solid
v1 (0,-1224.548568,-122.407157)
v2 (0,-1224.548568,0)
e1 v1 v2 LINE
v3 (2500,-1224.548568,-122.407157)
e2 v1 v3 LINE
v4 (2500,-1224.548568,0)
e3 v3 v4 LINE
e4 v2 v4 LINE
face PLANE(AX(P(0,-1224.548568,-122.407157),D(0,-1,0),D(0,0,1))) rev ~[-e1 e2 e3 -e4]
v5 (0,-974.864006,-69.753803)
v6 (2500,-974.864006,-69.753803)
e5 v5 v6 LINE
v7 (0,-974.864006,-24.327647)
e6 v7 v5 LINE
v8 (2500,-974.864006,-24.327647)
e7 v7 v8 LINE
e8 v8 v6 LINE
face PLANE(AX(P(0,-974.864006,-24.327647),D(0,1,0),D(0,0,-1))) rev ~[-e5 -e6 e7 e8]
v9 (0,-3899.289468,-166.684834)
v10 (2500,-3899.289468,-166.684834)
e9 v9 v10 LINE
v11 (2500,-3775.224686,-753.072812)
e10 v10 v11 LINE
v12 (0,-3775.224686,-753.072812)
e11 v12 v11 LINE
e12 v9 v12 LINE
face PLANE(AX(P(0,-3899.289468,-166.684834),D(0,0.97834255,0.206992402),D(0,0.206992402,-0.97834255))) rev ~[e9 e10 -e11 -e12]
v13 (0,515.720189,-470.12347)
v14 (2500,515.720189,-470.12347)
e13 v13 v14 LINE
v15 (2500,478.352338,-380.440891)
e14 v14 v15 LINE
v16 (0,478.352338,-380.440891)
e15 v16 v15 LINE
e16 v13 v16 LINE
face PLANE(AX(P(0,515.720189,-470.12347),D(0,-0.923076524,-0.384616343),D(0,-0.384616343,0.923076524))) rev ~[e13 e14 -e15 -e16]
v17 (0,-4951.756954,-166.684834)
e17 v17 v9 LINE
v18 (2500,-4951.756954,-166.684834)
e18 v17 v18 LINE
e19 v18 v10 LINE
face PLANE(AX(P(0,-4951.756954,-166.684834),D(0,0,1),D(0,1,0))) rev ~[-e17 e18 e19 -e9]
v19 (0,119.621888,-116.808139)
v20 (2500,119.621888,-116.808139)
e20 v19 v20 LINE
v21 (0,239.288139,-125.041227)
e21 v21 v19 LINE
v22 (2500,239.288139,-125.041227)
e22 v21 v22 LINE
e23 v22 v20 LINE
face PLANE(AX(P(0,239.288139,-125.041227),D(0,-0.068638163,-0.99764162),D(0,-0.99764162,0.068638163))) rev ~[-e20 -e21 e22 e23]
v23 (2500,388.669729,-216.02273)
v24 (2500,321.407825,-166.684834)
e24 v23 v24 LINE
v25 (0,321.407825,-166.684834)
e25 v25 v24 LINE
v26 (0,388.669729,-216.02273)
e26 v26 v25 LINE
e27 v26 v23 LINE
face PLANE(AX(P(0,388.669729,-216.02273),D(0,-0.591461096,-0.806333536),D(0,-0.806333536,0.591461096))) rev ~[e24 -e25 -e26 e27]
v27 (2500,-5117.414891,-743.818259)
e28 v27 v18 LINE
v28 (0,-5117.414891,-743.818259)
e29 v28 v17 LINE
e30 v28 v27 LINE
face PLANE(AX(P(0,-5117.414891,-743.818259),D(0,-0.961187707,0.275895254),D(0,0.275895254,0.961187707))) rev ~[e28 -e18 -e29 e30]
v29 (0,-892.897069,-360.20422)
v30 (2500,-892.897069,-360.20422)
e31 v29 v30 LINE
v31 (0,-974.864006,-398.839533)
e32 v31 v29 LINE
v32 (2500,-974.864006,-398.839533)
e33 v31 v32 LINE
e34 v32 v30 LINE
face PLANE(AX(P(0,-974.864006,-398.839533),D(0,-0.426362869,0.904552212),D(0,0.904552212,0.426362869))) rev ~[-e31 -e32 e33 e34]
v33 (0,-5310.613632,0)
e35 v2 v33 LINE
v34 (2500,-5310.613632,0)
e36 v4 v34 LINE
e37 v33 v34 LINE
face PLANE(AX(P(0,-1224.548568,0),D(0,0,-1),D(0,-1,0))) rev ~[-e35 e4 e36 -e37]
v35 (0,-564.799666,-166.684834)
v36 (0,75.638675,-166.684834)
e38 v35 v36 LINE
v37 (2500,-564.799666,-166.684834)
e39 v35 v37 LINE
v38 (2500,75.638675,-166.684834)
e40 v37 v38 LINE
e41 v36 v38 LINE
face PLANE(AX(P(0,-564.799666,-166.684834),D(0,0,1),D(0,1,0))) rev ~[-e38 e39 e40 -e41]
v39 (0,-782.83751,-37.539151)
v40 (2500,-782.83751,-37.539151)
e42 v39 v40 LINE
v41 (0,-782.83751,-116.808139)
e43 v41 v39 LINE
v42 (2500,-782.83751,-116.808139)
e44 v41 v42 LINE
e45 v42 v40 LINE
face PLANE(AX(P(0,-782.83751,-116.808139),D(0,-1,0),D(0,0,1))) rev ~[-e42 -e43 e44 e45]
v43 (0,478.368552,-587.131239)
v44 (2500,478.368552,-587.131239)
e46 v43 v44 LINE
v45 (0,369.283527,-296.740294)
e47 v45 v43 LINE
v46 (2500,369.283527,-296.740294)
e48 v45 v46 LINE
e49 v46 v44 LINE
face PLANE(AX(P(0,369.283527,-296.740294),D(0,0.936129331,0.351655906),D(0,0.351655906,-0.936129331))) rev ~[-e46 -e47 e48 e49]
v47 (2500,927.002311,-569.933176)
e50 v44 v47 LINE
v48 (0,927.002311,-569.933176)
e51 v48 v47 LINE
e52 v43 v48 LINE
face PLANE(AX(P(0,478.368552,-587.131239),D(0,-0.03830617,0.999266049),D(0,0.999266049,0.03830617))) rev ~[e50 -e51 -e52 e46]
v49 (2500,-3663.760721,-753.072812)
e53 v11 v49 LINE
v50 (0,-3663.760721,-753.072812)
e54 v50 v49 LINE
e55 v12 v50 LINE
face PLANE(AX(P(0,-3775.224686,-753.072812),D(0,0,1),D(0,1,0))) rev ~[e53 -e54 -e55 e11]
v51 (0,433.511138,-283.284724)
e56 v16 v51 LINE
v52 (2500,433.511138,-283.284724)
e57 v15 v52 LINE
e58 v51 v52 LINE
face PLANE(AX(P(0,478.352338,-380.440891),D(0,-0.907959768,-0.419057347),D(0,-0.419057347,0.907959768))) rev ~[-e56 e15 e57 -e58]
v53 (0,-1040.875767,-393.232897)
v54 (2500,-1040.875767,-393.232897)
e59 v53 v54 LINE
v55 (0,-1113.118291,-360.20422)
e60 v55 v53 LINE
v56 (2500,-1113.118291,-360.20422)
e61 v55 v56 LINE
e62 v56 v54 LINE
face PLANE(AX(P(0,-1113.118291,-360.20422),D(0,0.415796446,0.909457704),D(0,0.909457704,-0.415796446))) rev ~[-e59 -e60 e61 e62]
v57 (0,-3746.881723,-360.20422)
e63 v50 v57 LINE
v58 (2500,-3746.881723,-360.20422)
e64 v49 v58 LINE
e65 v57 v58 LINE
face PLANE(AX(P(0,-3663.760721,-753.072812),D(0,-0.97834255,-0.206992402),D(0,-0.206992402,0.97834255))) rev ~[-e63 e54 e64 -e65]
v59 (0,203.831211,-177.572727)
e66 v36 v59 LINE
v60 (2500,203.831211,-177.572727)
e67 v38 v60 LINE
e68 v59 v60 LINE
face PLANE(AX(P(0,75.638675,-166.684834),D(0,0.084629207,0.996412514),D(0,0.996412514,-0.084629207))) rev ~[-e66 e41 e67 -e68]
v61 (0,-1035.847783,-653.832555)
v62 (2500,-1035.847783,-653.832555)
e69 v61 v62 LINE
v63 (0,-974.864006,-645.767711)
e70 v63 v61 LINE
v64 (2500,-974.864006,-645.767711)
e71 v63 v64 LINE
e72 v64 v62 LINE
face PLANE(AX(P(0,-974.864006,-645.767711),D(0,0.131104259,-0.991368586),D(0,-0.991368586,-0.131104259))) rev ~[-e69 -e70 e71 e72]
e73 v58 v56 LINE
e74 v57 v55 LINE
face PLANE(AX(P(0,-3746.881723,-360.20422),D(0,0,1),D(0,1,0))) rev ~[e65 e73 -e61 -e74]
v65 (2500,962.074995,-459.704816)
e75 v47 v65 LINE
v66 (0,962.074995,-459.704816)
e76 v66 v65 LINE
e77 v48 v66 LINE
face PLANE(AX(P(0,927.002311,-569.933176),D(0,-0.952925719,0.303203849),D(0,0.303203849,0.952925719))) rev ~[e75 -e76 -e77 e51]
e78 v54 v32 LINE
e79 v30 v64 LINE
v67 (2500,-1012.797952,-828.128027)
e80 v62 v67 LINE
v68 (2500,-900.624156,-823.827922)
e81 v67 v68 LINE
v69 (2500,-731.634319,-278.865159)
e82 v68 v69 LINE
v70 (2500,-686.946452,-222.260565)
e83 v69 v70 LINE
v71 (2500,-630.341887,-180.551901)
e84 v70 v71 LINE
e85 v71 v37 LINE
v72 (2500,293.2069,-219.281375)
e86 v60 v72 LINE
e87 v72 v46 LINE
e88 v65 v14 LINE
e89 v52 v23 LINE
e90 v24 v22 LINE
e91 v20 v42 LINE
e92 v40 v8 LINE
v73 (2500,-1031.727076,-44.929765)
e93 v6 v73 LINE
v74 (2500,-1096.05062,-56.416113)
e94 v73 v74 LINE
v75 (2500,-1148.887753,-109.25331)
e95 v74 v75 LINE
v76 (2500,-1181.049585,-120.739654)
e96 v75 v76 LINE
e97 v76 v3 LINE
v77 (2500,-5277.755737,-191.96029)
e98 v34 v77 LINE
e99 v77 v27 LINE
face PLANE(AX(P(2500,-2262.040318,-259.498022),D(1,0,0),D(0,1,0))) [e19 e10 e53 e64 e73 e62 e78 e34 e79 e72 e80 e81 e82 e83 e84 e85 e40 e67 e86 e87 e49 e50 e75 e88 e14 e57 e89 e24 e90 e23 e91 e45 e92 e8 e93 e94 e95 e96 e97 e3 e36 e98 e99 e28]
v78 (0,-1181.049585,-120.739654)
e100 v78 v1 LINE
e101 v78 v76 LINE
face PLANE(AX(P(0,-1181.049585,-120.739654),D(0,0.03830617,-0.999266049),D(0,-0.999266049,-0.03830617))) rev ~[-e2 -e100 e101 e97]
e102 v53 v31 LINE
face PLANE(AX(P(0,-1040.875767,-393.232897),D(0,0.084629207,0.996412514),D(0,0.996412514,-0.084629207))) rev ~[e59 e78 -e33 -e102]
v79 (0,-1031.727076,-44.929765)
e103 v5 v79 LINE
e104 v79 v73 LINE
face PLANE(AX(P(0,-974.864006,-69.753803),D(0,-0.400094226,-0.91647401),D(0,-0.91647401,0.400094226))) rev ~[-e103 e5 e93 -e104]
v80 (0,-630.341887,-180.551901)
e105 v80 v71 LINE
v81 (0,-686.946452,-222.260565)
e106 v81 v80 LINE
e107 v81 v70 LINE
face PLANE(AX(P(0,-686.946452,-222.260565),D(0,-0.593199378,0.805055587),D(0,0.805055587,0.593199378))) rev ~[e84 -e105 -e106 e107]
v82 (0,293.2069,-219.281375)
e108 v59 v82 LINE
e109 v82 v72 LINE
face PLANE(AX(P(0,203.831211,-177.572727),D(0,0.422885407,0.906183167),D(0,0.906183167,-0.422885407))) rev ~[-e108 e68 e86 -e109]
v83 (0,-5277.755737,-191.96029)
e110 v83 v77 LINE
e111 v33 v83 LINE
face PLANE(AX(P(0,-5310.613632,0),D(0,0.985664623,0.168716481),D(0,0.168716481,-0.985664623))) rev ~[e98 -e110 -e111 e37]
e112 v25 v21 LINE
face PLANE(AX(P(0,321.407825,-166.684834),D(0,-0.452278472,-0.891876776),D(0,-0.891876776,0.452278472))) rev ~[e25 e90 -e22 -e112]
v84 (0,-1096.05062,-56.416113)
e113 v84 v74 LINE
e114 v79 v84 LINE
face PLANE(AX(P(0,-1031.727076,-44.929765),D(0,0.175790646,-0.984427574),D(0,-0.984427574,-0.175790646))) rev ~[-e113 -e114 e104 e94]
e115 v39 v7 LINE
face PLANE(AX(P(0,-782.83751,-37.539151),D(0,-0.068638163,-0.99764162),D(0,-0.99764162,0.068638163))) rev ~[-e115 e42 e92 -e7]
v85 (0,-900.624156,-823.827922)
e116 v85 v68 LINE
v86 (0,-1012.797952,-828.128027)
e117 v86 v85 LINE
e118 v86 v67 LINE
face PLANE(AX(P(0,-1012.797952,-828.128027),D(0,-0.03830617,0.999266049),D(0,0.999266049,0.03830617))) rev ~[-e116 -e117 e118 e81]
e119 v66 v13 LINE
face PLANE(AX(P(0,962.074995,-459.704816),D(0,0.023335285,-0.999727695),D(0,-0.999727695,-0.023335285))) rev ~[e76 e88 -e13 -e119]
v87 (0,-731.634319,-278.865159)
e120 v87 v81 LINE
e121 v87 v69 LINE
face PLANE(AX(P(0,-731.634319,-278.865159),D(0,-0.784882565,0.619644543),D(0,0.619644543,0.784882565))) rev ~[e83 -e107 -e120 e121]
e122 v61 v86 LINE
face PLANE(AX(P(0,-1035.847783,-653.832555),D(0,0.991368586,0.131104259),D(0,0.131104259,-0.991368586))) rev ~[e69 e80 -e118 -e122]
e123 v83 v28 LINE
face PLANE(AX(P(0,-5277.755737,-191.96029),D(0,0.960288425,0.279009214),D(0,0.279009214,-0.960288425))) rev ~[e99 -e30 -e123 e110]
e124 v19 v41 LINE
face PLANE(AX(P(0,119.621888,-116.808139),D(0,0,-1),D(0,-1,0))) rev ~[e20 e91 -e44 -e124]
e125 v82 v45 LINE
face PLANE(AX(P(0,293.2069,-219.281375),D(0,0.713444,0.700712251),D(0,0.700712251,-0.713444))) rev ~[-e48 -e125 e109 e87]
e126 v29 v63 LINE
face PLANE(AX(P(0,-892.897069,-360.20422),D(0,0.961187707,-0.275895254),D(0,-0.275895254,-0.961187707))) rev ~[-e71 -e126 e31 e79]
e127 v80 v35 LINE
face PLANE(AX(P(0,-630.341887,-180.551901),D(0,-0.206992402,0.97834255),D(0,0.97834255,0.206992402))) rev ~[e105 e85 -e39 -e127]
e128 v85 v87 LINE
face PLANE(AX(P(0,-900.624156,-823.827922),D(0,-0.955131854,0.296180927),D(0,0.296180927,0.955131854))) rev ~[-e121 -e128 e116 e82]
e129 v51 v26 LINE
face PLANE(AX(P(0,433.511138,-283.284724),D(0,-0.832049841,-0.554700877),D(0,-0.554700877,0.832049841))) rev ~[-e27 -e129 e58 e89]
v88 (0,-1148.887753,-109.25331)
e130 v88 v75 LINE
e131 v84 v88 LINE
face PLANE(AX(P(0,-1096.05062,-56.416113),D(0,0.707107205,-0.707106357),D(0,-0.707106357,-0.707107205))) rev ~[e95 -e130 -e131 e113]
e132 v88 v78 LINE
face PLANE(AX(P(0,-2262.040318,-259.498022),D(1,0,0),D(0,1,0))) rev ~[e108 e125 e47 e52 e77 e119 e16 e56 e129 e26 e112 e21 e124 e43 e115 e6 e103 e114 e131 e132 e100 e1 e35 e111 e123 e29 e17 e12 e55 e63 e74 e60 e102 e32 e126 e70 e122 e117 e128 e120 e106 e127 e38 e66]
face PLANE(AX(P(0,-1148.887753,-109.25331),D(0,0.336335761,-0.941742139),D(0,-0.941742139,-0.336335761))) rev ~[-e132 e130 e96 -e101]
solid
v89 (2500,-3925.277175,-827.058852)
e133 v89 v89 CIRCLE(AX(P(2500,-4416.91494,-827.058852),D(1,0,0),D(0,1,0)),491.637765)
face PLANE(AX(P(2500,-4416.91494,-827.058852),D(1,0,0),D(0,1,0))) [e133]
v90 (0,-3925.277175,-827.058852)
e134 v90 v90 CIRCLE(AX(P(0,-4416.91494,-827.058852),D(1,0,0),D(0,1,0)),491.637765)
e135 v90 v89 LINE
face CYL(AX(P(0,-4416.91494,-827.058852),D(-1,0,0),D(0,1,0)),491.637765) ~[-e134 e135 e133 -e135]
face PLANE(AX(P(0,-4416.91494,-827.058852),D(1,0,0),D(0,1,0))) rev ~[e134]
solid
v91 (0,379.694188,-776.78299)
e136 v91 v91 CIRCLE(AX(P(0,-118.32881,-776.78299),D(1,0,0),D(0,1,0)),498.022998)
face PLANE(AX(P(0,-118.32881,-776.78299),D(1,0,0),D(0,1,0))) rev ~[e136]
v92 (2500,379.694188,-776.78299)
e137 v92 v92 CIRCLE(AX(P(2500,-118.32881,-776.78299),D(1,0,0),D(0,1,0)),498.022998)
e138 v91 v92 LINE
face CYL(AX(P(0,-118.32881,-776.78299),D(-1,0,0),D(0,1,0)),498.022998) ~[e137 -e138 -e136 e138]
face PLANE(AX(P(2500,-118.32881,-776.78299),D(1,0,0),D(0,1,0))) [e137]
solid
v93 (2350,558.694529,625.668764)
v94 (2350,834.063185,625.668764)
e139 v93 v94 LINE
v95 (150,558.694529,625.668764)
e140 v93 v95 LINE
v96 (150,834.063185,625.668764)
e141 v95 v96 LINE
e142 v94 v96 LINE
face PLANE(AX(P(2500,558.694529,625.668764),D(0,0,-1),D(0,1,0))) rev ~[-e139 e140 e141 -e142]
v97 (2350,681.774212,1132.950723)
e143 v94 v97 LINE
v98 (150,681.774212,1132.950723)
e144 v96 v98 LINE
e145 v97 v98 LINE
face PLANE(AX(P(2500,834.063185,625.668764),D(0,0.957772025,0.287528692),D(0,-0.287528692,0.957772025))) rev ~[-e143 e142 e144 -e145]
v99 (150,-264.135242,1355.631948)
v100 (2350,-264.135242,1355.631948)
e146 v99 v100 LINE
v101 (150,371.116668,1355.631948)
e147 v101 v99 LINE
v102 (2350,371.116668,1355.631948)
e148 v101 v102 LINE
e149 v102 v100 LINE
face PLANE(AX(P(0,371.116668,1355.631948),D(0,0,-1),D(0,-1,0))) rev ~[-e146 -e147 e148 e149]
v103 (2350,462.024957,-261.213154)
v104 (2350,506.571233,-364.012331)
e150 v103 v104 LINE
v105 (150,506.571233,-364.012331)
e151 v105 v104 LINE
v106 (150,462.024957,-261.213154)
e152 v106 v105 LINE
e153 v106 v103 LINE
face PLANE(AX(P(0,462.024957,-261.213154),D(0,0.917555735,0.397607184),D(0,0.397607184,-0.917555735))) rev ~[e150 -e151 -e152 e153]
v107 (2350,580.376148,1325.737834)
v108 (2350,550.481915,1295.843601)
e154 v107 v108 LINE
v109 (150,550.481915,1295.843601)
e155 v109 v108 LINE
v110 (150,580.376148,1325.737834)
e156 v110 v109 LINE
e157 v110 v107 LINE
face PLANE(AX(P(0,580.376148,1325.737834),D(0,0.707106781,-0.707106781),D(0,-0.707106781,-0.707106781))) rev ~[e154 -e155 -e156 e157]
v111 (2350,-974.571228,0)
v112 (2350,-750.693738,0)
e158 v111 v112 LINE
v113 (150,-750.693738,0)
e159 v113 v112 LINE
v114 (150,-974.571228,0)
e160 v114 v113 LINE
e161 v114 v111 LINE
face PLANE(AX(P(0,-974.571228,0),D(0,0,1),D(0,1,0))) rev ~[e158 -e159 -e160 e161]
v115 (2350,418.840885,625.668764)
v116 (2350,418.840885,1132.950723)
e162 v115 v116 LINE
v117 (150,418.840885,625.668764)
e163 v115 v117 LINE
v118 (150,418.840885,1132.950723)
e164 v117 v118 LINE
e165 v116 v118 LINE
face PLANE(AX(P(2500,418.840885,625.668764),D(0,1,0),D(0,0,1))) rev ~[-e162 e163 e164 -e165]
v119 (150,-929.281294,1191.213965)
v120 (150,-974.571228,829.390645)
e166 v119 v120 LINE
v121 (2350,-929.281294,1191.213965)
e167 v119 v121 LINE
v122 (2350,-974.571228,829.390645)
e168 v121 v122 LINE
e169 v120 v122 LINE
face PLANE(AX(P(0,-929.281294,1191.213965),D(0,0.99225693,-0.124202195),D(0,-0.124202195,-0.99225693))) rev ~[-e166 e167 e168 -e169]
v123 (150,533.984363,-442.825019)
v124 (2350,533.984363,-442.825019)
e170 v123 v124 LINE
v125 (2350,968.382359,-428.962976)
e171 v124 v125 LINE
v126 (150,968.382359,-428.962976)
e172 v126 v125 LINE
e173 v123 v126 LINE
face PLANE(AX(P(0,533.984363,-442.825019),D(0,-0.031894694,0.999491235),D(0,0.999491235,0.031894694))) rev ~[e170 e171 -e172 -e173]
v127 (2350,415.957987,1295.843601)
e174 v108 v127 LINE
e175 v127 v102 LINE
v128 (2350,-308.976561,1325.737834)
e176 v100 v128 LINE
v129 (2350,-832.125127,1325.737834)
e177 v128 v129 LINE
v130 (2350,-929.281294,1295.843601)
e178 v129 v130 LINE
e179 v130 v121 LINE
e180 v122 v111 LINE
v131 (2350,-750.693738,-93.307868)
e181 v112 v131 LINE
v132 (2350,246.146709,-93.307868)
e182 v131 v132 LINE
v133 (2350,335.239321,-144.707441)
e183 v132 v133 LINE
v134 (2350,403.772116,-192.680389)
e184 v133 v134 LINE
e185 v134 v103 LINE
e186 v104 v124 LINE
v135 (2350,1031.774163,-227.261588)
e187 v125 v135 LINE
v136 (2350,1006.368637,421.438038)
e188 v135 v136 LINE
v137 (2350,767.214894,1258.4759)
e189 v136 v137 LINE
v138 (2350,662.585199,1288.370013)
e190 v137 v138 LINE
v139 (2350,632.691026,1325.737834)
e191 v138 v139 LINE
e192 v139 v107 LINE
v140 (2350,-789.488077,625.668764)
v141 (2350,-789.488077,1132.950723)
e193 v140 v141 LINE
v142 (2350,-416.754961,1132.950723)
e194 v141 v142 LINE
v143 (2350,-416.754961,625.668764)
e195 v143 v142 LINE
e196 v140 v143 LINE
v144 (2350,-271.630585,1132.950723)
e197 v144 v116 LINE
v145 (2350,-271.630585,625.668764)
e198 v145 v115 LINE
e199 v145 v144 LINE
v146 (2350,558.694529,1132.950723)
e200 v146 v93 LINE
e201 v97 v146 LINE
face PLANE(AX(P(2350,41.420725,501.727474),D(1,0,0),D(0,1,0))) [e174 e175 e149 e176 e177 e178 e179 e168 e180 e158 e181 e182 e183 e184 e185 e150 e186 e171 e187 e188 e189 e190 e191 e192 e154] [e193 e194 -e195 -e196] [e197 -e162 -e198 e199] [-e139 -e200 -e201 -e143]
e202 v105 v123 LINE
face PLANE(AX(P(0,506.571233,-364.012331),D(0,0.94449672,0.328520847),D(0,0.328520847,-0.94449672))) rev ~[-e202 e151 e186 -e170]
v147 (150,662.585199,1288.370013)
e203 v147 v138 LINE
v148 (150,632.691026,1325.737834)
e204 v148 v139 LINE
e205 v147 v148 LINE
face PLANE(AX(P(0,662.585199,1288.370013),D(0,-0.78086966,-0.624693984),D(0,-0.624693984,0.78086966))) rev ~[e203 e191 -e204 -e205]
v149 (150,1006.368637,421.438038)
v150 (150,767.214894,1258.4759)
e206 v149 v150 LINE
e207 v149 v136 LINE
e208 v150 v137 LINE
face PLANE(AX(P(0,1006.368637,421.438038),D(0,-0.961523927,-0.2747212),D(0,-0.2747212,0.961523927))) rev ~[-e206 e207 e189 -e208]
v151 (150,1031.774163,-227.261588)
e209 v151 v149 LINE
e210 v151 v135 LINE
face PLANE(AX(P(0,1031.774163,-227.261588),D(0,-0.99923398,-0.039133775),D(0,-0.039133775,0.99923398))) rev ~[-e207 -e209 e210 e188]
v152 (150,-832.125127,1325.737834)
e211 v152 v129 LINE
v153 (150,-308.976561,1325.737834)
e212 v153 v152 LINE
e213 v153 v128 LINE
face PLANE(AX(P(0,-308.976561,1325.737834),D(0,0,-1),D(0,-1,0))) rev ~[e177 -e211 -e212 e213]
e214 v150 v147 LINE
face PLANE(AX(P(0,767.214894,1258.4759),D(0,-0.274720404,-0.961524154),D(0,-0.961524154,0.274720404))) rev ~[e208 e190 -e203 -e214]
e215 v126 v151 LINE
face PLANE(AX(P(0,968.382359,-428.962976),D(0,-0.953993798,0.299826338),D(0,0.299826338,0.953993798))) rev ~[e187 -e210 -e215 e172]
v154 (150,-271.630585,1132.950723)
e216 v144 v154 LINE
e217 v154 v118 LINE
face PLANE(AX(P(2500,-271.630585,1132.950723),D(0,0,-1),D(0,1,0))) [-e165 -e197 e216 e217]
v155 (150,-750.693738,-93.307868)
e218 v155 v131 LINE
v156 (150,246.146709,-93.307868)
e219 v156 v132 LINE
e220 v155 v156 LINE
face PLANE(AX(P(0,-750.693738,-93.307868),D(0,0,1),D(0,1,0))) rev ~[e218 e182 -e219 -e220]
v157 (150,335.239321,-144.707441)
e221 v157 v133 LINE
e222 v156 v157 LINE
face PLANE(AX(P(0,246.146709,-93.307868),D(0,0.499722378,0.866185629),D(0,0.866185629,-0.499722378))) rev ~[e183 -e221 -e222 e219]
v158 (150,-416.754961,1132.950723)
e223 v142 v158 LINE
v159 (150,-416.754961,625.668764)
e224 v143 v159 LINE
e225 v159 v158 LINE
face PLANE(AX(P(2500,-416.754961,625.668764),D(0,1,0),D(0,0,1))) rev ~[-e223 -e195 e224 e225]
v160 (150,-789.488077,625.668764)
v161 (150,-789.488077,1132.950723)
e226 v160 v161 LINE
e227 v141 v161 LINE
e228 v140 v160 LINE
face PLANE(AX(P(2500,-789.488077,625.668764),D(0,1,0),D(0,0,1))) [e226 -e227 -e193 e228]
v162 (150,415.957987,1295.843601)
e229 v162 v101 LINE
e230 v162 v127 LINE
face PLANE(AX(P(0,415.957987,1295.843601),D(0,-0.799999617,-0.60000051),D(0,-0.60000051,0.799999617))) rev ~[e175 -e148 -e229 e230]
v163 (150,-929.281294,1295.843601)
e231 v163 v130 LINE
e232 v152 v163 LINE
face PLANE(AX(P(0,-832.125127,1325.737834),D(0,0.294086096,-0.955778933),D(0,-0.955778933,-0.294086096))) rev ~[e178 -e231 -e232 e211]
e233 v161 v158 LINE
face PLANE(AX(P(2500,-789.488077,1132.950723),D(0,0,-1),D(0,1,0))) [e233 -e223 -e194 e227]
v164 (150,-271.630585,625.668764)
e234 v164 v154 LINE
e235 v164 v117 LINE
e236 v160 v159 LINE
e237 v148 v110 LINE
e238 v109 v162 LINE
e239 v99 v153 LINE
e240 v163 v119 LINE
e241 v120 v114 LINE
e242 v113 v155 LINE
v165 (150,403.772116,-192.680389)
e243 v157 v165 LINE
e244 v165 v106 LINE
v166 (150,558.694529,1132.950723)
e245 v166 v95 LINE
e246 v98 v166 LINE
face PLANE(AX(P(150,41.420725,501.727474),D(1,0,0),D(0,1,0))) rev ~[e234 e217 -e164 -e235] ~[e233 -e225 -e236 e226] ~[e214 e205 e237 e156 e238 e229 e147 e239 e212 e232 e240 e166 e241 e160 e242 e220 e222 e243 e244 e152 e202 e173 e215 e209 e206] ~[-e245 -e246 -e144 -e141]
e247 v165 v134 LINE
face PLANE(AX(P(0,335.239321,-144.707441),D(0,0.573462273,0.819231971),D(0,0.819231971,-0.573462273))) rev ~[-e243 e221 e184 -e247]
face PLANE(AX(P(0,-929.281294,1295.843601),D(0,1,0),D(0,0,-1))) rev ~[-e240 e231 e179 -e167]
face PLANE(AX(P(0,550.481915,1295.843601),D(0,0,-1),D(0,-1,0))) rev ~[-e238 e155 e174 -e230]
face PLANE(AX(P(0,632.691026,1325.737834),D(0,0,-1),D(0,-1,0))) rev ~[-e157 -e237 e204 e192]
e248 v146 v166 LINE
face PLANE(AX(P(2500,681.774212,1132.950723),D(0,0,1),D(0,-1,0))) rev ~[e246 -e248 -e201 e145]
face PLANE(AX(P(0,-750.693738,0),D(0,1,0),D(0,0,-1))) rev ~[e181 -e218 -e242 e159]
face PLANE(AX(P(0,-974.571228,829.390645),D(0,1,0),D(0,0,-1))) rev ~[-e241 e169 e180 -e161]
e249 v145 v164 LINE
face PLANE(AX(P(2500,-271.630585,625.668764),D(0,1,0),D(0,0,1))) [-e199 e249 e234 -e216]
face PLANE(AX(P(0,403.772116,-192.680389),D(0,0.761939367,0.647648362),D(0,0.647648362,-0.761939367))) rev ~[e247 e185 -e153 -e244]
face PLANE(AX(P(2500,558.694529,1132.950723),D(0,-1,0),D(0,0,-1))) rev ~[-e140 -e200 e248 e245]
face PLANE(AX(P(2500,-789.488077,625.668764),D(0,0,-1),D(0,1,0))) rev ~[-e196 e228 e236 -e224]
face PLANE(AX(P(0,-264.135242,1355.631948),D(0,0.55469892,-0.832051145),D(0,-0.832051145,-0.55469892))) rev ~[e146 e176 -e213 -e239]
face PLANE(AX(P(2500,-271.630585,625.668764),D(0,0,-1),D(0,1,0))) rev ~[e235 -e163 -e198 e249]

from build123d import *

# Parameters (mm, degrees)
F3_DEPTH = 2500
F4_DEPTH = 2500
F1_R     = 491.6377645467
F5_DEPTH = 2500
F1_R_2   = 498.02299798
F6_W     = 372.7331161499
F6_H     = 507.2819590569
F6_W_2   = 690.471470356
F7_DEPTH = 2500
F8_DEPTH = 150
F9_DEPTH = 150


with BuildPart() as f3:
    # F0 (on Right) → F3 (new body)
    with BuildSketch(Plane.YZ):
        Polygon((-1224.5485678222, 0), (-5310.6136322021, 0), (-5277.7557373047, -191.9602900744), (-5117.4148913408, -743.8182594957), (-4951.7569541931, -166.6848343797), (-3899.2894684027, -166.6848343797), (-3775.2246856689, -753.0728117307), (-3663.7607209599, -753.0728117307), (-3746.8817234039, -360.2042198181), (-1113.1182909012, -360.2042198181), (-1040.8757674439, -393.2328965524), (-974.8640060425, -398.839533329), (-892.8970694542, -360.2042198181), (-974.8640060425, -645.7677109129), (-1035.8477830887, -653.8325548172), (-1012.7979517511, -828.128026859), (-900.6241559982, -823.8279223442), (-731.6343188286, -278.8651585579), (-686.946451664, -222.2605645657), (-630.3418874741, -180.5519014597), (-564.7996664047, -166.6848343797), (75.6386753714, -166.6848343797), (203.8312107325, -177.5727272034), (293.2069003582, -219.2813754082), (369.2835271358, -296.7402935028), (478.3685519201, -587.1312394465), (927.0023107529, -569.9331760406), (962.0749950409, -459.7048163414), (515.7201886177, -470.1234698296), (478.3523380756, -380.440890789), (433.5111379623, -283.2847237587), (388.6697292328, -216.0227298737), (321.4078247547, -166.6848343797), (239.2881385455, -125.041227132), (119.6218878031, -116.8081387877), (-782.8375101089, -116.8081387877), (-782.8375101089, -37.5391505659), (-974.8640060425, -24.3276469409), (-974.8640060425, -69.7538033128), (-1031.7270755768, -44.9297651649), (-1096.050620079, -56.4161129296), (-1148.8877534866, -109.2533096671), (-1181.0495853424, -120.7396537066), (-1224.5485678222, -122.4071569741), align=None)
    extrude(amount=F3_DEPTH)


with BuildPart() as f4:
    # F2 (on face) → F4 (new body)
    with BuildSketch(Plane.YZ):
        Polygon((-974.5712280273, 829.3906450272), (-974.5712280273, 0), (-750.6937384605, 0), (-750.6937384605, -93.3078676462), (119.3610876799, -93.3078676462), (246.1467087269, -93.3078676462), (335.2393209934, -144.70744133), (403.7721157074, -192.680388689), (462.0249569416, -261.2131536007), (506.5712332726, -364.0123307705), (533.9843630791, -442.8250193596), (968.382358551, -428.9629757404), (1031.7741632462, -227.2615879774), (1006.368637085, 421.4380383492), (767.2148942947, 1258.4758996964), (662.5851988792, 1288.370013237), (632.6910257339, 1325.7378339767), (580.3761482239, 1325.7378339767), (550.4819154739, 1295.8436012268), (415.9579873085, 1295.8436012268), (371.1166679859, 1355.6319475174), (-264.1352415085, 1355.6319475174), (-308.9765608311, 1325.7378339767), (-832.1251273155, 1325.7378339767), (-929.2812943459, 1295.8436012268), (-929.2812943459, 1191.213965416), align=None)
    extrude(amount=F4_DEPTH)

    # F6 (on face) → F7 (cut, through all)
    with BuildSketch(Plane.YZ.offset(2500)):
        with Locations((-603.1215190887, 879.3097436428)):
            Rectangle(F6_W, F6_H)
        with Locations((73.6051499844, 879.3097436428)):
            Rectangle(F6_W_2, F6_H)
        Polygon((681.7742115496, 1132.9507231712), (558.6945289137, 1132.9507231712), (558.6945289137, 625.6687641144), (834.063184881, 625.6687641144), align=None)
    extrude(amount=-F7_DEPTH, mode=Mode.SUBTRACT)

    # F8 (cut): a face of the model
    f8_faces = [f4.faces().sort_by_distance(p)[0] for p in [
        (2500, 59.5307734223, 448.7734529522),
    ]]
    extrude(f8_faces, amount=-F8_DEPTH, mode=Mode.SUBTRACT)

    # F9 (cut): a face of the model
    f9_faces = [f4.faces().sort_by_distance(p)[0] for p in [
        (0, 59.5307734223, 448.7734529522),
    ]]
    extrude(f9_faces, amount=-F9_DEPTH, mode=Mode.SUBTRACT)


with BuildPart() as f5:
    # F1 (on face) → F5 (new body)
    with BuildSketch(Plane.YZ):
        with Locations((-4416.9149398804, -827.0588517189)):
            Circle(F1_R)
    extrude(amount=F5_DEPTH)


with BuildPart() as f5b:
    # F1 (on face) → F5, piece 2 (new body)
    with BuildSketch(Plane.YZ):
        with Locations((-118.3288097382, -776.782989502)):
            Circle(F1_R_2)
    extrude(amount=F5_DEPTH)


solid = Compound([f3.part, f4.part, f5.part, f5b.part])
